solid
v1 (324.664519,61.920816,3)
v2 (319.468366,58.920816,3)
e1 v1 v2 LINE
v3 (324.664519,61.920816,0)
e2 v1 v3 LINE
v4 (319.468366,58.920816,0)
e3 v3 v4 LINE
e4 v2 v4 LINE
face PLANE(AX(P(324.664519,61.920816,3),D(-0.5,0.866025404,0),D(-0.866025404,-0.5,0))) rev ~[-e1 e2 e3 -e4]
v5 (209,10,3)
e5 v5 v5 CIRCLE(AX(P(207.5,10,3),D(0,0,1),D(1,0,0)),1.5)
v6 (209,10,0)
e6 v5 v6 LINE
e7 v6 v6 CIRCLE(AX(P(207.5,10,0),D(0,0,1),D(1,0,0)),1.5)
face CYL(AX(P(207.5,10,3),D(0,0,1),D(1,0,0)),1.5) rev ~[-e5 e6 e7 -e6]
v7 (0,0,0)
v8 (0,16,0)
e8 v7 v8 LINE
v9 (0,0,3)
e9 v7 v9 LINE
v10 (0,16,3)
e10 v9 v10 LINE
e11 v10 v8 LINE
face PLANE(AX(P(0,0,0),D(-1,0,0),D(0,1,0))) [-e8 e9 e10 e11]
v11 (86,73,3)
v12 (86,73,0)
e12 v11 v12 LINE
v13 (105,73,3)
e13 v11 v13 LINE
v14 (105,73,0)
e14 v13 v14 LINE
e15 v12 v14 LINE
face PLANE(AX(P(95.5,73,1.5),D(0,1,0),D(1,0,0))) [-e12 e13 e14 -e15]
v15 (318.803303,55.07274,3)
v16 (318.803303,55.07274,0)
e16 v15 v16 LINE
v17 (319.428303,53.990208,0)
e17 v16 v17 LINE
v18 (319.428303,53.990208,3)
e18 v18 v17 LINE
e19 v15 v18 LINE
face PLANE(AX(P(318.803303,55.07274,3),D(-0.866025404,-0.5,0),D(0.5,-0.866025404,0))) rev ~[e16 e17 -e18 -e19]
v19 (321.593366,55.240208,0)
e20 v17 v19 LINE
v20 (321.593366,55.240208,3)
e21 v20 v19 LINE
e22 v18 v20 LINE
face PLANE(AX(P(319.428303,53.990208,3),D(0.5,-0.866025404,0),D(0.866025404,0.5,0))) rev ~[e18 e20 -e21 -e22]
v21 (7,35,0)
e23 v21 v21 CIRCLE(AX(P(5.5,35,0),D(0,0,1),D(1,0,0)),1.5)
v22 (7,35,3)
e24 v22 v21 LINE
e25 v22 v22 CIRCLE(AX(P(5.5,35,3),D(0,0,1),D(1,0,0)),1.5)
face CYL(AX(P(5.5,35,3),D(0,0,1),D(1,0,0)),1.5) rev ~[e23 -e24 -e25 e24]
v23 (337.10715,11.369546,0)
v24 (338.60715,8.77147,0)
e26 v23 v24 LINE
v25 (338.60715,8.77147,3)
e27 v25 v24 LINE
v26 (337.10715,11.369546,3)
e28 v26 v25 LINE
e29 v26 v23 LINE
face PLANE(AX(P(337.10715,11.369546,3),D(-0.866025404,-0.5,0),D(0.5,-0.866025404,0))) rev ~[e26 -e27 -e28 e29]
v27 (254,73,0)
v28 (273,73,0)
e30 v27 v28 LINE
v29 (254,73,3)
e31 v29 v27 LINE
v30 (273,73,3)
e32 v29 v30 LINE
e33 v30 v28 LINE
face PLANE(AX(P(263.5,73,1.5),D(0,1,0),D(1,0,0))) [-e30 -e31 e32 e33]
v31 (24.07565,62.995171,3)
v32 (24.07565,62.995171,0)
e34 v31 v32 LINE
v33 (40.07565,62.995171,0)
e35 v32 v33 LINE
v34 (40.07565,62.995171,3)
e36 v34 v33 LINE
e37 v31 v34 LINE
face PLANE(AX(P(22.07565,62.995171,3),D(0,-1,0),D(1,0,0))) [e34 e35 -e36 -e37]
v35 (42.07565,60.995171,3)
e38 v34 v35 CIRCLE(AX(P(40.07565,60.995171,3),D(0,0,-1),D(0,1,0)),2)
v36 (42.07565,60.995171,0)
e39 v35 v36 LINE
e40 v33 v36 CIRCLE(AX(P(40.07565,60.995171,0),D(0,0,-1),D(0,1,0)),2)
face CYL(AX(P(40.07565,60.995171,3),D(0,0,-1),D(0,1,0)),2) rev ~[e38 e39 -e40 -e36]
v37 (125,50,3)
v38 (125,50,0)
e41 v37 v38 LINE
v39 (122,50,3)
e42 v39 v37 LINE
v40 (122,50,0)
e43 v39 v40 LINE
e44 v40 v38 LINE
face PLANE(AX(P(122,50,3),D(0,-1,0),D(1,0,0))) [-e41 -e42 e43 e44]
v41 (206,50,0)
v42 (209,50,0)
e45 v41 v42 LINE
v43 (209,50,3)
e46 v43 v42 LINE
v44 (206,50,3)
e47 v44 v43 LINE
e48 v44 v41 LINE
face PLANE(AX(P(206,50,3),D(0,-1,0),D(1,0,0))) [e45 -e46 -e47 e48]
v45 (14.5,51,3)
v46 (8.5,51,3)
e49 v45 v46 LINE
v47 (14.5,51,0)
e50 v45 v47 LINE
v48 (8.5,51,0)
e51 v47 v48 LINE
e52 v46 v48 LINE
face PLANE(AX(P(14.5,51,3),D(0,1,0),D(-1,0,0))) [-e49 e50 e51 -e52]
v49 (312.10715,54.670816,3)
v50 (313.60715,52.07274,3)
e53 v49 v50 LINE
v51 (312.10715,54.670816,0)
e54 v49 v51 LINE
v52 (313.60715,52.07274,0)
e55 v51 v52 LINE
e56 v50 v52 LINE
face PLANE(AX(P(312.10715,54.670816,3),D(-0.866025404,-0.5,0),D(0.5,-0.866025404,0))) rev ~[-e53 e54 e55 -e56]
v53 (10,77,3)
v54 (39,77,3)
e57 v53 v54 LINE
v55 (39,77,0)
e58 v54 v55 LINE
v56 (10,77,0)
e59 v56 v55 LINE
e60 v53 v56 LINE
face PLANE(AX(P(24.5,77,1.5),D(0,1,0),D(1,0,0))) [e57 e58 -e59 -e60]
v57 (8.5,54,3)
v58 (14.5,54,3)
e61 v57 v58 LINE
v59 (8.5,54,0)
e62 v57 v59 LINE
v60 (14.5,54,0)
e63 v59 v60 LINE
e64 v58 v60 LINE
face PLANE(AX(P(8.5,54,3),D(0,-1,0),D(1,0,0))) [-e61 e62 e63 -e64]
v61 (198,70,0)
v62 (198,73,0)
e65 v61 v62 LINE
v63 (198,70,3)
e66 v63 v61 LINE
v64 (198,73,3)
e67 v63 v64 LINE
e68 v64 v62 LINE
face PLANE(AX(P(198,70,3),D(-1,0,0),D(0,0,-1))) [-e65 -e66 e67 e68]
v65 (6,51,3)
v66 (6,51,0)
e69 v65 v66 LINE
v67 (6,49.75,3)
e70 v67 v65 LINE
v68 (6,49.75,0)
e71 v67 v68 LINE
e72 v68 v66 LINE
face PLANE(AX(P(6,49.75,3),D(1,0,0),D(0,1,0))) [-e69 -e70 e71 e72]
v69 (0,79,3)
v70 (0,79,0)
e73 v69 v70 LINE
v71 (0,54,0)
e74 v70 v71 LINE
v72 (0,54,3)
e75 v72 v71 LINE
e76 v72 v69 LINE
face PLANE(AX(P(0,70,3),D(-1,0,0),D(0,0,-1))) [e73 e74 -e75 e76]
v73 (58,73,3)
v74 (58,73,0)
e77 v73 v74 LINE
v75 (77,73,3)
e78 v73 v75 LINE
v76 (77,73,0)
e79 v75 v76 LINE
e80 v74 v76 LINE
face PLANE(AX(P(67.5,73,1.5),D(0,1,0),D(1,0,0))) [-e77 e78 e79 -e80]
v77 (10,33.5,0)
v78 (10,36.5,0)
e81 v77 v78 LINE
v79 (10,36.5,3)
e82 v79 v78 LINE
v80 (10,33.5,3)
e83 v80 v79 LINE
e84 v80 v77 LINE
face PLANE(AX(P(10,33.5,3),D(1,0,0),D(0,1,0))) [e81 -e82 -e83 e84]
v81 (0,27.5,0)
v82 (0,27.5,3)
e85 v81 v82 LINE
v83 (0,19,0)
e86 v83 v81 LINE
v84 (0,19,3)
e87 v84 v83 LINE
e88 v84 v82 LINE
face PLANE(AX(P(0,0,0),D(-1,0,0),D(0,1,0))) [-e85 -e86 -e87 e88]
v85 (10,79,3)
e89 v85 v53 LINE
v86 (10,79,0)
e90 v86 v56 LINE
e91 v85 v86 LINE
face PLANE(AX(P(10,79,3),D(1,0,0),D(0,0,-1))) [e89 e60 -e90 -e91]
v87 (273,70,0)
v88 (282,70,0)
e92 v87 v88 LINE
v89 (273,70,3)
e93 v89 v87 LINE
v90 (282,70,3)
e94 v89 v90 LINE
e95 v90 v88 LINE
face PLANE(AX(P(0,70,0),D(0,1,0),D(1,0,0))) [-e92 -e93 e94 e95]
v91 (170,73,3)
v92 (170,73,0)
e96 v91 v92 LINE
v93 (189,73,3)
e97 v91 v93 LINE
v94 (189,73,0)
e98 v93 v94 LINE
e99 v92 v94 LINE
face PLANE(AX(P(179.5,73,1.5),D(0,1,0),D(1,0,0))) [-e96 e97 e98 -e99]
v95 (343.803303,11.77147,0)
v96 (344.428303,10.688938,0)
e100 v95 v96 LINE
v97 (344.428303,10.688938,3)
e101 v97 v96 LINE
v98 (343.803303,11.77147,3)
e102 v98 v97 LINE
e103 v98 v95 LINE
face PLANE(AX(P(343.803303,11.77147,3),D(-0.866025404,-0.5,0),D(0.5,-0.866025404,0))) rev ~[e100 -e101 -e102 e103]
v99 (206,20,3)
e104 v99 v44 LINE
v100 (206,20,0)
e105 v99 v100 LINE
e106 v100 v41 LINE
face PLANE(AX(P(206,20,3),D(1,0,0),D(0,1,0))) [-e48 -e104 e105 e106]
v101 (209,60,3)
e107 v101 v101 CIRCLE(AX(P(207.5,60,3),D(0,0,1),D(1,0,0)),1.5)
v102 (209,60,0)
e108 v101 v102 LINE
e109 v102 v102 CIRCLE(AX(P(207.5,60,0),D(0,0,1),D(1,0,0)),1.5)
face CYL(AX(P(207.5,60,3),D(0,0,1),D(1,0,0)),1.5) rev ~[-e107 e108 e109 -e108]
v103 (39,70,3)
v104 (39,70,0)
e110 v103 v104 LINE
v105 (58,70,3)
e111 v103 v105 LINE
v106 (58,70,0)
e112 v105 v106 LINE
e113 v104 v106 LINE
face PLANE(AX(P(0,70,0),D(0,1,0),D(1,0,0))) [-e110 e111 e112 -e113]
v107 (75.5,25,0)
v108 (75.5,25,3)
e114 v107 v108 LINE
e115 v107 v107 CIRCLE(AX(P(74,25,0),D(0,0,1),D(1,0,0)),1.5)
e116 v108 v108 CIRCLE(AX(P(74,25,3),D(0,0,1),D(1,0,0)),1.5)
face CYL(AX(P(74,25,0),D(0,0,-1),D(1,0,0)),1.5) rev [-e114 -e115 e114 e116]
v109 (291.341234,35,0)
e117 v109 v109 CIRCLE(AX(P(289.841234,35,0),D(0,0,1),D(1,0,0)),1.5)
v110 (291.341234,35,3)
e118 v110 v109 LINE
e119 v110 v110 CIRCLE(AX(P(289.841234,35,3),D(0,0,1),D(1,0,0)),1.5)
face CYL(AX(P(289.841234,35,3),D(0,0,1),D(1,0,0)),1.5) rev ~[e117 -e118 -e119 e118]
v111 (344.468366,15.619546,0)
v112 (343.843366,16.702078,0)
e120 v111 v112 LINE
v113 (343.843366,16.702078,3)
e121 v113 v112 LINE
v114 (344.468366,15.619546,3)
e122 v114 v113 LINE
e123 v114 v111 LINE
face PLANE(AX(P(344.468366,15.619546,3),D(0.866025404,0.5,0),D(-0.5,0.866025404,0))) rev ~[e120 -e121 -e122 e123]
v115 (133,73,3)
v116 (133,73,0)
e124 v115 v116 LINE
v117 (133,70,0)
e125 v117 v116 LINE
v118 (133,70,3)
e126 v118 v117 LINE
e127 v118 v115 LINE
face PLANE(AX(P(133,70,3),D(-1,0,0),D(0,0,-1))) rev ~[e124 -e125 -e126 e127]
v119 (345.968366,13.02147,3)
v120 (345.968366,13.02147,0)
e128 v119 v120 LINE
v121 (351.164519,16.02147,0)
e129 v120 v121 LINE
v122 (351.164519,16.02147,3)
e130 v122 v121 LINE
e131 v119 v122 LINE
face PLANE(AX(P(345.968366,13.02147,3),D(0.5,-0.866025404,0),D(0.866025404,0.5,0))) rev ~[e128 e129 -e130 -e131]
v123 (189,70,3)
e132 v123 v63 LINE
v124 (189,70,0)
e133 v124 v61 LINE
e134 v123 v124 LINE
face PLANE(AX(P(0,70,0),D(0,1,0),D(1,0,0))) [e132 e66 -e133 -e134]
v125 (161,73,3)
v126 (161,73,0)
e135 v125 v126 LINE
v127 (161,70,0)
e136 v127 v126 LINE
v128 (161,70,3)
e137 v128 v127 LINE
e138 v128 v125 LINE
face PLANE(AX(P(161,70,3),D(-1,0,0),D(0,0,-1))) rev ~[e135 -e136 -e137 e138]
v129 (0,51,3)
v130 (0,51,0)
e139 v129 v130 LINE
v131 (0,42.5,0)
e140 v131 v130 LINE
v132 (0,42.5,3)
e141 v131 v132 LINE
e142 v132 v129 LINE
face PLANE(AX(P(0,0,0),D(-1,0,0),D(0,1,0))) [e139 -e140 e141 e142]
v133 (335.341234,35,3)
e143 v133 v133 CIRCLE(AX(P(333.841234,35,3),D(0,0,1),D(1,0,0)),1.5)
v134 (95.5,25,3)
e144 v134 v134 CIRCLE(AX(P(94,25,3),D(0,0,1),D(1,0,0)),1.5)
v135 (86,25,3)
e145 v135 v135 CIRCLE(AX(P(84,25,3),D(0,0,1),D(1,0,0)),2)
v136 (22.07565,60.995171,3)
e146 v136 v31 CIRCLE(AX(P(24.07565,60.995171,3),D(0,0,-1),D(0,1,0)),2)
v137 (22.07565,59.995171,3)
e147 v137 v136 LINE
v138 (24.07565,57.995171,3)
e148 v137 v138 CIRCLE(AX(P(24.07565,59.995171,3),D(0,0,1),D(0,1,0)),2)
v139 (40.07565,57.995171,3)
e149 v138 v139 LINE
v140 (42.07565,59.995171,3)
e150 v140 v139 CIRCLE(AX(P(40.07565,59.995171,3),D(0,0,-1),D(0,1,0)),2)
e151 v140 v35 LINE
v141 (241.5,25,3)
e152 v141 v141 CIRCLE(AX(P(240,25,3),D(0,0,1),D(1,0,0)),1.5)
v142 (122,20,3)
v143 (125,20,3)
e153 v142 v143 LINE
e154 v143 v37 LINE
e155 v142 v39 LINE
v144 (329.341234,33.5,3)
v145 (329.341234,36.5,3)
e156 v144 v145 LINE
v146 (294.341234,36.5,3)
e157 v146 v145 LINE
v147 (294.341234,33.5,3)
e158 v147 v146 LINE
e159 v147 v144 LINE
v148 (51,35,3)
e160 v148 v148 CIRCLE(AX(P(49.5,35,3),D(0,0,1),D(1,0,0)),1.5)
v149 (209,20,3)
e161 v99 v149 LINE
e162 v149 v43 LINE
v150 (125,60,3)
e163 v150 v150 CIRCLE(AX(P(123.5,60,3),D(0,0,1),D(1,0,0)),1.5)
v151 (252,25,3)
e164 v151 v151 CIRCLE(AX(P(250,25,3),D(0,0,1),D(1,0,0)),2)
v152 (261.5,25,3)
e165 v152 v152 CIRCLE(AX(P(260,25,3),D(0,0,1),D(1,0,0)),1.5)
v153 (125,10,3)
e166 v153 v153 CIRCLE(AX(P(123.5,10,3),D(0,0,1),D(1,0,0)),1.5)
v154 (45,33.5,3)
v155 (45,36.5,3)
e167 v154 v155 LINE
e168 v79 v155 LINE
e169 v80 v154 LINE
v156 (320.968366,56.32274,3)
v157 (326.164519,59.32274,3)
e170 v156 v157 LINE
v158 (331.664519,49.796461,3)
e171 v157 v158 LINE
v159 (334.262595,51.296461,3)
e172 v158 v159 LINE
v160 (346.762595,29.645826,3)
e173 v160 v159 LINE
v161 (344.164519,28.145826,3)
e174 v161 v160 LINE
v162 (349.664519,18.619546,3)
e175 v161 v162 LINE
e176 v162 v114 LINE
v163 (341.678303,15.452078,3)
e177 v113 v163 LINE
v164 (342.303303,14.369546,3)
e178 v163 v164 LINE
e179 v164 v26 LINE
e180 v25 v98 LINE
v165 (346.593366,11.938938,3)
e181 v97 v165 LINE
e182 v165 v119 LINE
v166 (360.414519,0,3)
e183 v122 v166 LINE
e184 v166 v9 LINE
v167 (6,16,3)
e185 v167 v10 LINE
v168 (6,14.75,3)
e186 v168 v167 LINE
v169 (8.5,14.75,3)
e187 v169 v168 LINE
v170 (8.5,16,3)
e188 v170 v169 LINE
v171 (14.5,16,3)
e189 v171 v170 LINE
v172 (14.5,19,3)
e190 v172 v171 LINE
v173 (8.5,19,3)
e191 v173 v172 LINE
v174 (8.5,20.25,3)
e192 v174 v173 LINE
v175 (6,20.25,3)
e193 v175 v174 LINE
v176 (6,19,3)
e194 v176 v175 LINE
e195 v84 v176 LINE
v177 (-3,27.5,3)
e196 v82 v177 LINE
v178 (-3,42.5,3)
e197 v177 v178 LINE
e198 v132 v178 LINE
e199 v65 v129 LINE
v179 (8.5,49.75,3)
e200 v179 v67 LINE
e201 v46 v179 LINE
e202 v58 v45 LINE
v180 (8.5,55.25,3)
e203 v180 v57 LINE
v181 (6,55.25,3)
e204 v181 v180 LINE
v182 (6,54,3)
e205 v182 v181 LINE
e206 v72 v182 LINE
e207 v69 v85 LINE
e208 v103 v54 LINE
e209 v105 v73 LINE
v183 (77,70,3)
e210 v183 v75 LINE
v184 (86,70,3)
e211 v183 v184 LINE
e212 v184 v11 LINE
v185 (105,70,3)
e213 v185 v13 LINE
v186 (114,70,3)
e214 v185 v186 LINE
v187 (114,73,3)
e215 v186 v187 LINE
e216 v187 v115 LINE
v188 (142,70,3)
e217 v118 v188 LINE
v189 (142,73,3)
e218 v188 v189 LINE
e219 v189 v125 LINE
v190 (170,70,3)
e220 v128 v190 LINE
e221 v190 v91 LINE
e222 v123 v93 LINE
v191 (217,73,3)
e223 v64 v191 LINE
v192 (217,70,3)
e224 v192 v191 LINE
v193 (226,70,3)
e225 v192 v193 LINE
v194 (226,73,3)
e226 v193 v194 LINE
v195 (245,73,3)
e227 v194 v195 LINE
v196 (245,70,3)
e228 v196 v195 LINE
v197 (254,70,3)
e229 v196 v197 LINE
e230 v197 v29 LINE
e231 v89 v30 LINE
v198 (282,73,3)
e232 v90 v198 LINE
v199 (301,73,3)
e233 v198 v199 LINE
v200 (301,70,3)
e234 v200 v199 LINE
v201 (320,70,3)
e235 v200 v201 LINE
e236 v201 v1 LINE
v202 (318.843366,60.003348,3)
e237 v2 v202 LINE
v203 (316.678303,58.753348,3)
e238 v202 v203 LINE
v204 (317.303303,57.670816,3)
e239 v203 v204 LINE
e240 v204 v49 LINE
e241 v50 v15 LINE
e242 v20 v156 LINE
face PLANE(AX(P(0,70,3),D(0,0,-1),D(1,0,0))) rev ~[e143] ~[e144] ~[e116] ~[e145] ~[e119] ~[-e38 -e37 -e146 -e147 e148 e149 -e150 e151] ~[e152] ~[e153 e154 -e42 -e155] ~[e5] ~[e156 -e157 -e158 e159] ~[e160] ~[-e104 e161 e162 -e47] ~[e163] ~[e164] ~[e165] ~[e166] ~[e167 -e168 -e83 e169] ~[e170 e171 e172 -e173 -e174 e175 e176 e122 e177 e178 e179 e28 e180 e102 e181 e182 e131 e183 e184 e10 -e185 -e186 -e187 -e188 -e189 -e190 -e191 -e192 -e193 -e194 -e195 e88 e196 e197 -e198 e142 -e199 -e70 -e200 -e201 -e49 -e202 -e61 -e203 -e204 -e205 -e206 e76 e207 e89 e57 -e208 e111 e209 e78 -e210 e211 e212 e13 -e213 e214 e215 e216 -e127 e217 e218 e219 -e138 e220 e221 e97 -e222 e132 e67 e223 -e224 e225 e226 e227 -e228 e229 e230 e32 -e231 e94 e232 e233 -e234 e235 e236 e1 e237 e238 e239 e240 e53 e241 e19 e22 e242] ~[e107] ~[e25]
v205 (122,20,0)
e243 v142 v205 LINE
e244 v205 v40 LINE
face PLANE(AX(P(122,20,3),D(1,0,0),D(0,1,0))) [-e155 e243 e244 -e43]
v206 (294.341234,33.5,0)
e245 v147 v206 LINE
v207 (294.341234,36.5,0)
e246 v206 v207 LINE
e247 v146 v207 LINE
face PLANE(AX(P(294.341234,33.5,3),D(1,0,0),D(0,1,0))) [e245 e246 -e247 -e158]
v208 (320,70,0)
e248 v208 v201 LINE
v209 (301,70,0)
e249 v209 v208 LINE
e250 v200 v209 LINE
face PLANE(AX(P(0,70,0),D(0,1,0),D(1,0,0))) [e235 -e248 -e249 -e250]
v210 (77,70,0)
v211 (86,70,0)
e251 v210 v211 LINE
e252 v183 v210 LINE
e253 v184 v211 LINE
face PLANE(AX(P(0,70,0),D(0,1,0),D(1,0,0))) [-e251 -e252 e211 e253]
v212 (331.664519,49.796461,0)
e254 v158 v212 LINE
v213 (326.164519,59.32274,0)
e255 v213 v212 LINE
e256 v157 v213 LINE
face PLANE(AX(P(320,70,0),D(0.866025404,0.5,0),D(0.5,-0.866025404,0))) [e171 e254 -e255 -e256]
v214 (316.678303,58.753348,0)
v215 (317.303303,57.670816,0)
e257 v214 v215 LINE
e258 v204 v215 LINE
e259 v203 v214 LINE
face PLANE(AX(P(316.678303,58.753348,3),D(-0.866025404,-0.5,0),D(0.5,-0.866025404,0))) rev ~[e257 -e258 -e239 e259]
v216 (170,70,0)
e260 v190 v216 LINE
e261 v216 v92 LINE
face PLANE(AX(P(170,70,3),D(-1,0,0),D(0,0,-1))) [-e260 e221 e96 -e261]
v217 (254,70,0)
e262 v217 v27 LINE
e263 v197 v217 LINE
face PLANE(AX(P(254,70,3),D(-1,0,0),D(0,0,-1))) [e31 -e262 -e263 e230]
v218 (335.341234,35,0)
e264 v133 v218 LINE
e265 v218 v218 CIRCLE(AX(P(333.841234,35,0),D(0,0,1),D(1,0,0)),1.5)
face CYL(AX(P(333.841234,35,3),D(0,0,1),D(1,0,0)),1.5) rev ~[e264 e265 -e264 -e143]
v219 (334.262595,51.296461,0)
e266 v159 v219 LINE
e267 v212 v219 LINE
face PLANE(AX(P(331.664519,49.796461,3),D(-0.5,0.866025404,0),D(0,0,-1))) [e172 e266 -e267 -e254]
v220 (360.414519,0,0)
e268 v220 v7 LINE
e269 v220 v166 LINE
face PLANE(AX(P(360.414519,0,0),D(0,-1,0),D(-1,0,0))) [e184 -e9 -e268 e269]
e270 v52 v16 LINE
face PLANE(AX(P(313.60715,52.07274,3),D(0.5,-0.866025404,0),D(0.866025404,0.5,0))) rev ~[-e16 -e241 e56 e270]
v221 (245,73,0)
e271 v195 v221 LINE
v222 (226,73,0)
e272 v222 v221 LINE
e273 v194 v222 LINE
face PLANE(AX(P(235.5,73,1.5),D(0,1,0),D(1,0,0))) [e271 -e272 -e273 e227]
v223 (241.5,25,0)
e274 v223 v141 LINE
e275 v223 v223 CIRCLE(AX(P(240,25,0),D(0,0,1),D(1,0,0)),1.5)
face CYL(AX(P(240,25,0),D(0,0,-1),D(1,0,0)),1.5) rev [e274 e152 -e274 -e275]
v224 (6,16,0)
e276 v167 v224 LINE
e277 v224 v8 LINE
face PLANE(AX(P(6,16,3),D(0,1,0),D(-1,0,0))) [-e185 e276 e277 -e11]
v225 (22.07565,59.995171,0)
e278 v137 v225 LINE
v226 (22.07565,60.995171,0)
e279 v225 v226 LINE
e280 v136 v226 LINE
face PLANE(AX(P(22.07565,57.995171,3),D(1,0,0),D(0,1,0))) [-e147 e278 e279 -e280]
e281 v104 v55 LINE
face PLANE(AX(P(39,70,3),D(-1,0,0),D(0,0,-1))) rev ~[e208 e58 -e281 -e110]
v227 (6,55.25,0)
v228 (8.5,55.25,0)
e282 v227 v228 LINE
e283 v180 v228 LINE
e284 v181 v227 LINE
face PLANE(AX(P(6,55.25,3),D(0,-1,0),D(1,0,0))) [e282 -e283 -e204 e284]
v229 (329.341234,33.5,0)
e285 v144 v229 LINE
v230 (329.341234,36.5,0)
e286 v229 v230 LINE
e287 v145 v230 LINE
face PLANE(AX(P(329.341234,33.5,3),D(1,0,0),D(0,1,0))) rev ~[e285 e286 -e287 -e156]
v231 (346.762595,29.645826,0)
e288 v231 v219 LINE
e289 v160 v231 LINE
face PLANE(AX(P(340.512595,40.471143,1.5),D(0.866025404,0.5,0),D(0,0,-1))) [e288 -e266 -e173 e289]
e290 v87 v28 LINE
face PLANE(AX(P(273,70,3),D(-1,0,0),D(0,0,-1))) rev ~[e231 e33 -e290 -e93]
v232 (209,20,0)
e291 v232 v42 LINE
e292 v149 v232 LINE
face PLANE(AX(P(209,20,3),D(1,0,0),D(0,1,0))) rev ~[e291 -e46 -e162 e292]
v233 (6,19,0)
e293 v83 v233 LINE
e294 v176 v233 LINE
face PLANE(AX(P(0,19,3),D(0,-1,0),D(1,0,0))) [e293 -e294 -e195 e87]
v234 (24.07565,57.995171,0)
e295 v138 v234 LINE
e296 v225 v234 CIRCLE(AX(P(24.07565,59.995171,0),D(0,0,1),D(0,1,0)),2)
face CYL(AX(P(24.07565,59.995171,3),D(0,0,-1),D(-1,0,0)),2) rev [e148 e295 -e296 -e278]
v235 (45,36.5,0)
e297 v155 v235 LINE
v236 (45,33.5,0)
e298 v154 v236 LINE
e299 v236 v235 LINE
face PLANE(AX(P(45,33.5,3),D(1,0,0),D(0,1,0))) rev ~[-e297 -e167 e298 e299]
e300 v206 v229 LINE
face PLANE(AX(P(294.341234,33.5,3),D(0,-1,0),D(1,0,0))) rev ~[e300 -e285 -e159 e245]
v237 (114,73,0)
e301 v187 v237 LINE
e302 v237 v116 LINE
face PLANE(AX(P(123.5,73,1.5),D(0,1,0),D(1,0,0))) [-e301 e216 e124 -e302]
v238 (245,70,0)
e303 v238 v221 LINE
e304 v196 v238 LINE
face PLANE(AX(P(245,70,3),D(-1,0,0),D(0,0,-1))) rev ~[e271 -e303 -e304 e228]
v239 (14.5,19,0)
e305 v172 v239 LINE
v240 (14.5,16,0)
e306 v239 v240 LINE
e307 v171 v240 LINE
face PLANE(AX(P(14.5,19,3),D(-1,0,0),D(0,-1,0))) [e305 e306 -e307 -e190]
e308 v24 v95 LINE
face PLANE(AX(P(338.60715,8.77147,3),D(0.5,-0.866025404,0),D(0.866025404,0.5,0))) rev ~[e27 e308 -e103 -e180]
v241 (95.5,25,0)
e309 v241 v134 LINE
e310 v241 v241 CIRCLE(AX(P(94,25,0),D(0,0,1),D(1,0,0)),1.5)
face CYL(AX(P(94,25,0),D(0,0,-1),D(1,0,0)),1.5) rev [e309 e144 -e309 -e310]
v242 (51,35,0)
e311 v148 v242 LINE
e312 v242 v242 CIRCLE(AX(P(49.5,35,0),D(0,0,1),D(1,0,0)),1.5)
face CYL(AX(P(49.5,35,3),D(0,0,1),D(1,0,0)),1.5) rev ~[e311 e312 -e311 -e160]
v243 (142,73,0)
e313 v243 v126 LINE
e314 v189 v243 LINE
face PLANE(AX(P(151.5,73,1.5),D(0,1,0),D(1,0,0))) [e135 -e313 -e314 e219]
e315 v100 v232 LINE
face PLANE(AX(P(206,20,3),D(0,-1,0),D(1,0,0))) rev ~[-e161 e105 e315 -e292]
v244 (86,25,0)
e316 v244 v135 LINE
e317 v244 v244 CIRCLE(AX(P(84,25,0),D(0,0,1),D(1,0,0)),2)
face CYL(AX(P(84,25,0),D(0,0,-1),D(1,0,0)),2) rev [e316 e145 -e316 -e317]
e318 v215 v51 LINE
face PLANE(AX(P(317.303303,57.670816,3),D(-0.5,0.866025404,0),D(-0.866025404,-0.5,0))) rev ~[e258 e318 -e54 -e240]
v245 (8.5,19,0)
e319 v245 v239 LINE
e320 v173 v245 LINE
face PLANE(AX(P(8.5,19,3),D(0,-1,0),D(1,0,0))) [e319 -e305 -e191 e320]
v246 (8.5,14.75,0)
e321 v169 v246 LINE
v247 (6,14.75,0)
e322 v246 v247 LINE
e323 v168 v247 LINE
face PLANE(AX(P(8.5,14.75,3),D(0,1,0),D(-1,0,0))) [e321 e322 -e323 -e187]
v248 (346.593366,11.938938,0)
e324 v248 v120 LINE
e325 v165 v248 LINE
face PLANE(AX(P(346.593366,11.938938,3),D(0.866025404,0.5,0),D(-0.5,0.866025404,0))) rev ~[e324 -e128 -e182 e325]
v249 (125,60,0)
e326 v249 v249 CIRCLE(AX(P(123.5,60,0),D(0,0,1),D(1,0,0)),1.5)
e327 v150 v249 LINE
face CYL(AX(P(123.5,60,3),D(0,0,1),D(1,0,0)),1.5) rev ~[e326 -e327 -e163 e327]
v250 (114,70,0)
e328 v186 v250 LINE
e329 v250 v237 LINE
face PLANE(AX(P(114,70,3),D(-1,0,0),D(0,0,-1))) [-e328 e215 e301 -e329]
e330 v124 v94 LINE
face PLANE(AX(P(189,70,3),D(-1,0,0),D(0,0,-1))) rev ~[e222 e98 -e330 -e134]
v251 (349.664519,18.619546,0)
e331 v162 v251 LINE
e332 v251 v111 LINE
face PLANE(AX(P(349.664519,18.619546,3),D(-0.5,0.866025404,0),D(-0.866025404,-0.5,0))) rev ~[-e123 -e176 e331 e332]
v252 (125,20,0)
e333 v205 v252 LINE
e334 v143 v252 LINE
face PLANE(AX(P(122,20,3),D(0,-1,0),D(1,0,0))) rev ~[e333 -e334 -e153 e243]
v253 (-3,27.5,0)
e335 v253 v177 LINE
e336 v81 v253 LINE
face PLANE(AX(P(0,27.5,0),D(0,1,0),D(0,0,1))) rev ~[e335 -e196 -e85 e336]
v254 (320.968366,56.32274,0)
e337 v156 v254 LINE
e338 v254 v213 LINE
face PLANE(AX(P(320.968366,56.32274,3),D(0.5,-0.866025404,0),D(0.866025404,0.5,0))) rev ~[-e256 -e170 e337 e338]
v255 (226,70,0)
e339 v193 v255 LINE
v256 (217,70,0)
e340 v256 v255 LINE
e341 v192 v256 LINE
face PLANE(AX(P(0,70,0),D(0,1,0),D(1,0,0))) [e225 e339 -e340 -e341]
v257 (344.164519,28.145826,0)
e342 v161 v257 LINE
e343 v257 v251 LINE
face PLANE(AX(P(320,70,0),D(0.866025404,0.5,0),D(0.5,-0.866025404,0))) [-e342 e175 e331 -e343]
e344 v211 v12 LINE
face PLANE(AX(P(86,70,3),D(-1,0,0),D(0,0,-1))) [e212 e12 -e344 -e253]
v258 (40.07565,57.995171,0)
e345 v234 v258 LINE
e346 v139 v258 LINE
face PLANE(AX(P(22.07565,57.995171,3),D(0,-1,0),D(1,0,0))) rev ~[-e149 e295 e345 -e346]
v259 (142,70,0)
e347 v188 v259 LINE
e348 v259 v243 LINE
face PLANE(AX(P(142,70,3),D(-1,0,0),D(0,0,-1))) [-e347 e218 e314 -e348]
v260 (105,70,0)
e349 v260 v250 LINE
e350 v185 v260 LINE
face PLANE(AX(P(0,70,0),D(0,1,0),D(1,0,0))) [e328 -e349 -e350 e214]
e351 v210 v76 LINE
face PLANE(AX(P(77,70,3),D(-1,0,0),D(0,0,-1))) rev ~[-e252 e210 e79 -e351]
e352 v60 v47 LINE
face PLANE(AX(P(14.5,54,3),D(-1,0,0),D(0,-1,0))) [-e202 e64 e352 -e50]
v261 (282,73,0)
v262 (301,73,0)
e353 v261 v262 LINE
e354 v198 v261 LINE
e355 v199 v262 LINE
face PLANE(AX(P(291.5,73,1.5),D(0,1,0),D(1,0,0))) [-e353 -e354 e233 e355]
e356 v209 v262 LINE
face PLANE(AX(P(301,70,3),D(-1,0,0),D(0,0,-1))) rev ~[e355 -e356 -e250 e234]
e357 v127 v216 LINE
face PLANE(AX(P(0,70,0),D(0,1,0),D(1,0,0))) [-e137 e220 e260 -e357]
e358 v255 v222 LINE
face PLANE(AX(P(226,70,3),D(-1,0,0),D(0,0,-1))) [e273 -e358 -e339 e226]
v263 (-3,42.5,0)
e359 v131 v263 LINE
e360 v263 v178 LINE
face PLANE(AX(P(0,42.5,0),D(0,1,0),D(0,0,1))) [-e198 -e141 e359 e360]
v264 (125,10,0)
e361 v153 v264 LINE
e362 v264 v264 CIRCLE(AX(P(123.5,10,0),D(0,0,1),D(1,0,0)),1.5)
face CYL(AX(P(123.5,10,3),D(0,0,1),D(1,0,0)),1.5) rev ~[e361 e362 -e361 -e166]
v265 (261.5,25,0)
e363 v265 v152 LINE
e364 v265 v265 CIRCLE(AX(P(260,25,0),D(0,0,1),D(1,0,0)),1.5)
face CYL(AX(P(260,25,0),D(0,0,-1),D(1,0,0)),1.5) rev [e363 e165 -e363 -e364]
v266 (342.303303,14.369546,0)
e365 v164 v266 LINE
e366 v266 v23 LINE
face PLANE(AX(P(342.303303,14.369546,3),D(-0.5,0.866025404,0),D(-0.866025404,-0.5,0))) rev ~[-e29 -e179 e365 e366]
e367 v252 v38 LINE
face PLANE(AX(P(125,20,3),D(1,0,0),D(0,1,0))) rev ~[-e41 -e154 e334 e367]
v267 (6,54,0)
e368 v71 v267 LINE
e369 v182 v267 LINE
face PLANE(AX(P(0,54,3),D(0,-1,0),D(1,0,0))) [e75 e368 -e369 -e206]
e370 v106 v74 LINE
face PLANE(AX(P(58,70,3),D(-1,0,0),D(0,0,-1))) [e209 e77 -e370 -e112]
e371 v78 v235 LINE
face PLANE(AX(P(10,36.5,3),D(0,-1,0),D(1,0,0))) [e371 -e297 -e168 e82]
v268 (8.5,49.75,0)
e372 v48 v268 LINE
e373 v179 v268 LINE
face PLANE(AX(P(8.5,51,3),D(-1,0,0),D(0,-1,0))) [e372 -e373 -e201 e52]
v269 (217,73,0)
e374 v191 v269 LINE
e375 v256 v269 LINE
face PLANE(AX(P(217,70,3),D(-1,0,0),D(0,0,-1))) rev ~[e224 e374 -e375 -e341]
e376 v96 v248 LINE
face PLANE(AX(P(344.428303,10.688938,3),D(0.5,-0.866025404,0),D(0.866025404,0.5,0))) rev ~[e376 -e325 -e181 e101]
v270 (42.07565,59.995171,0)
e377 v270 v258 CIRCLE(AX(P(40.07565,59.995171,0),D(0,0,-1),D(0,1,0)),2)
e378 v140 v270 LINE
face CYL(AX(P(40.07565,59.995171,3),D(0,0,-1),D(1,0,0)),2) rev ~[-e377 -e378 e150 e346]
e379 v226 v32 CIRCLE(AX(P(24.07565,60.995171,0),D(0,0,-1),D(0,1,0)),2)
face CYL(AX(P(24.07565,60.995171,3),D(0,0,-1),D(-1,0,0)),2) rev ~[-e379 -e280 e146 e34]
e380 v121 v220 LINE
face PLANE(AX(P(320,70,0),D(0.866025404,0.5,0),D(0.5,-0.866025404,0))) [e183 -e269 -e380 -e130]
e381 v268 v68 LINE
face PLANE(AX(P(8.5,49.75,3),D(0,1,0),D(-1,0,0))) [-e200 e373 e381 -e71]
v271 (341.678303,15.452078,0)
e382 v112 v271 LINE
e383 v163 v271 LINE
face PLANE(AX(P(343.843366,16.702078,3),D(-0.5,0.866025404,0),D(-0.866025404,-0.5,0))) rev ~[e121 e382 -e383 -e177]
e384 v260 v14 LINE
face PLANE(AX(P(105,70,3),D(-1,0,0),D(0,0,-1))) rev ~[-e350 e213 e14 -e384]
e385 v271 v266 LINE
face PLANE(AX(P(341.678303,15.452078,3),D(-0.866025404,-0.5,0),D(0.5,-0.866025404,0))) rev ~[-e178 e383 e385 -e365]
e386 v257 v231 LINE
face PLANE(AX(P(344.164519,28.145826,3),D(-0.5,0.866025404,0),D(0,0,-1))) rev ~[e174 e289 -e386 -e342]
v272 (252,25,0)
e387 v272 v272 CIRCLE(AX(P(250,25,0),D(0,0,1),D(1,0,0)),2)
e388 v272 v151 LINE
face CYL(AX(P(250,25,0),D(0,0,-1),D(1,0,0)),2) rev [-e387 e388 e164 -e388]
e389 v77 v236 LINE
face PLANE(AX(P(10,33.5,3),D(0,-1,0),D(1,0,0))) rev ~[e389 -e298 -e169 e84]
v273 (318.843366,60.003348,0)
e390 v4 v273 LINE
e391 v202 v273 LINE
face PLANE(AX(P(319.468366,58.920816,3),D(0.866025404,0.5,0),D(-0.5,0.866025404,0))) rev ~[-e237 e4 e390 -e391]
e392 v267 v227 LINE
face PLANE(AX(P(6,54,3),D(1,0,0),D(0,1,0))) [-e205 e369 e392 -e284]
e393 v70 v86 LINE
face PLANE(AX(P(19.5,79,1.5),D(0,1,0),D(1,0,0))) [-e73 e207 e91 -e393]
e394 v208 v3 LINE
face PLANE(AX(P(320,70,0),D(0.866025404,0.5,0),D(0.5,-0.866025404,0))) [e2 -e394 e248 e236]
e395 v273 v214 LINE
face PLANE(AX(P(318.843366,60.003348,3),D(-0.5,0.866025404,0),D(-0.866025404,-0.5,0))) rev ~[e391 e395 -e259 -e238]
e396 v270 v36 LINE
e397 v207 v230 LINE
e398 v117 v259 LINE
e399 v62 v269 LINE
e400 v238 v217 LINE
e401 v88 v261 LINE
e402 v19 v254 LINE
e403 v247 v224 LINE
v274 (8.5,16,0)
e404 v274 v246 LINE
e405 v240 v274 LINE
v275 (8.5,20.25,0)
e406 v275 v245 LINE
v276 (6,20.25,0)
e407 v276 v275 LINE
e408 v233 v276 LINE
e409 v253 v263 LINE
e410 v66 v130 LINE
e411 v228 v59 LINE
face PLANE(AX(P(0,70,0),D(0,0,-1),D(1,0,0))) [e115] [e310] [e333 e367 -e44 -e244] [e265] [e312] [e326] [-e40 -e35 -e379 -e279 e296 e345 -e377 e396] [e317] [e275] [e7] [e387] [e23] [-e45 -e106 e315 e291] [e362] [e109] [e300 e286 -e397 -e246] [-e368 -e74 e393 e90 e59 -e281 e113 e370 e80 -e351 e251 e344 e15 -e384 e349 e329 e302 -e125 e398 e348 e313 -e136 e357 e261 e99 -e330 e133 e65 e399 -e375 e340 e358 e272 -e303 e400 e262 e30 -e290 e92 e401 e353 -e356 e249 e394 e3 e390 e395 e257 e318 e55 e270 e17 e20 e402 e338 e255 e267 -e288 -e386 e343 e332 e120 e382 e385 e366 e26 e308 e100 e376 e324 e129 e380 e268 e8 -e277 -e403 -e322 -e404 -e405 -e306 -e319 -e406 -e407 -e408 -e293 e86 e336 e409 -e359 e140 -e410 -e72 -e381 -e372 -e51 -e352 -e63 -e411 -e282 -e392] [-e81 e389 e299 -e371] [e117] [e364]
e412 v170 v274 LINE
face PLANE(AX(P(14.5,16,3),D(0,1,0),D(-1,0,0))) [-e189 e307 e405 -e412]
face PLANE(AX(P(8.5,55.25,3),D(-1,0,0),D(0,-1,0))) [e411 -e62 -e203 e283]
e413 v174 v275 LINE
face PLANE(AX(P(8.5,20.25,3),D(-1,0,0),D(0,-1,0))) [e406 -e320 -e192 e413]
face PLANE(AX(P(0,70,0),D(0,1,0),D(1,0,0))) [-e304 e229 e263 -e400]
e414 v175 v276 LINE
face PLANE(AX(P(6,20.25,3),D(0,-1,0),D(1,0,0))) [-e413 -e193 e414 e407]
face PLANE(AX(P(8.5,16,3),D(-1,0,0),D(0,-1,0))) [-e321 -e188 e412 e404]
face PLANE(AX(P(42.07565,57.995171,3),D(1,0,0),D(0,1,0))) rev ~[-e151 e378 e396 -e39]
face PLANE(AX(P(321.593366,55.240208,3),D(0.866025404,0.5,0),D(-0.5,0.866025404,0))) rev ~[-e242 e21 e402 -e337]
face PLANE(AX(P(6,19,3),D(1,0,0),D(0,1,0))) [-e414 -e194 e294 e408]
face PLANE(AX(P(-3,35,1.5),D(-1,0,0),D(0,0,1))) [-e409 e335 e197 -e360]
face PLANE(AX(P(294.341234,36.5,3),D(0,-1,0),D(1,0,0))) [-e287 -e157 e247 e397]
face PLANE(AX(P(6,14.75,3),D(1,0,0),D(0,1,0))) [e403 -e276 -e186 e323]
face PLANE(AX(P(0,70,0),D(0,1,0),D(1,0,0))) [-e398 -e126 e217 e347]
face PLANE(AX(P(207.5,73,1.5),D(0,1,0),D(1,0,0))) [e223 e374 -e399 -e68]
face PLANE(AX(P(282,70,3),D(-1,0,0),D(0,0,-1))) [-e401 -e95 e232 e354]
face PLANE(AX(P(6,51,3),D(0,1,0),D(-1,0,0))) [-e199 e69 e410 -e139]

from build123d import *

# Parameters (mm, degrees)
SKETCH_1_R             = 2
SKETCH_1_R_2           = 1.5
EXTRUDE_1_DEPTH        = 3
SKETCH_2_W             = 19
SKETCH_2_H             = 3
EXTRUDE_2_DEPTH        = 3
PATTERN_LINEAR_1_COUNT = 9
PATTERN_LINEAR_1_PITCH = 28
SKETCH_3_W             = 3
SKETCH_3_H             = 30
CUT_EXTRUDE_1_DEPTH    = 3
SKETCH_4_W             = 35
SKETCH_4_H             = 3
CUT_EXTRUDE_2_DEPTH    = 3
SKETCH_5_R             = 1.5
CUT_EXTRUDE_3_DEPTH    = 3
CUT_EXTRUDE_4_DEPTH    = 3
CUT_EXTRUDE_5_DEPTH    = 3
SKETCH_8_W             = 39
SKETCH_8_H             = 3
EXTRUDE_3_DEPTH        = 9
SKETCH_9_W             = 29
SKETCH_9_H             = 3
CUT_EXTRUDE_6_DEPTH    = 2
SKETCH_11_W            = 3
SKETCH_11_H            = 25
EXTRUDE_5_DEPTH        = 3
SKETCH_12_W            = 3
SKETCH_12_H            = 15
EXTRUDE_6_DEPTH        = 3
SKETCH_13_W            = 20
SKETCH_13_H            = 5
CUT_EXTRUDE_7_DEPTH    = 3
FILLET_1_R             = 2


with BuildPart() as part:
    # Эскиз1 → Бобышка-Вытянуть1 (new body)
    with BuildSketch(Plane.XY):
        Polygon((320, 70), (360.414518843, 0), (0, 0), (0, 70), align=None)
        with Locations((84, 25)):
            Circle(SKETCH_1_R, mode=Mode.SUBTRACT)
        with Locations((250, 25)):
            Circle(SKETCH_1_R, mode=Mode.SUBTRACT)
        with Locations((94, 25)):
            Circle(SKETCH_1_R_2, mode=Mode.SUBTRACT)
        with Locations((74, 25)):
            Circle(SKETCH_1_R_2, mode=Mode.SUBTRACT)
        with Locations((240, 25)):
            Circle(SKETCH_1_R_2, mode=Mode.SUBTRACT)
        with Locations((260, 25)):
            Circle(SKETCH_1_R_2, mode=Mode.SUBTRACT)
    extrude(amount=EXTRUDE_1_DEPTH)

    # Эскиз2 → Бобышка-Вытянуть2 (add)
    with BuildSketch(Plane(origin=(0, 70, 0), x_dir=(1, 0, 0), z_dir=(0, 1, 0))):
        with Locations((291.5, -1.5)):
            Rectangle(SKETCH_2_W, SKETCH_2_H)
    extrude_2 = extrude(amount=EXTRUDE_2_DEPTH)

    # Линейный массив1: Бобышка-Вытянуть2 ×9
    with Locations(*[(-i * PATTERN_LINEAR_1_PITCH, 0, 0) for i in range(1, PATTERN_LINEAR_1_COUNT)]):
        add(extrude_2)

    # Эскиз3 → Вырез-Вытянуть1 (cut)
    with BuildSketch(Plane.XY.offset(3)):
        with Locations((207.5, 35)):
            Rectangle(SKETCH_3_W, SKETCH_3_H)
        with Locations((123.5, 35)):
            Rectangle(SKETCH_3_W, SKETCH_3_H)
    extrude(amount=-CUT_EXTRUDE_1_DEPTH, mode=Mode.SUBTRACT)

    # Эскиз4 → Вырез-Вытянуть2 (cut)
    with BuildSketch(Plane.XY.offset(3)):
        with Locations((311.841234018, 35)):
            Rectangle(SKETCH_4_W, SKETCH_4_H)
        with Locations((27.5, 35)):
            Rectangle(SKETCH_4_W, SKETCH_4_H)
    extrude(amount=-CUT_EXTRUDE_2_DEPTH, mode=Mode.SUBTRACT)

    # Эскиз5 → Вырез-Вытянуть3 (cut)
    with BuildSketch(Plane.XY.offset(3)):
        with Locations((5.5, 35)):
            Circle(SKETCH_5_R)
        with Locations((49.5, 35)):
            Circle(SKETCH_5_R)
        with Locations((123.5, 60)):
            Circle(SKETCH_5_R)
        with Locations((123.5, 10)):
            Circle(SKETCH_5_R)
        with Locations((207.5, 60)):
            Circle(SKETCH_5_R)
        with Locations((207.5, 10)):
            Circle(SKETCH_5_R)
        with Locations((289.841234018, 35)):
            Circle(SKETCH_5_R)
        with Locations((333.841234018, 35)):
            Circle(SKETCH_5_R)
    extrude(amount=-CUT_EXTRUDE_3_DEPTH, mode=Mode.SUBTRACT)

    # Эскиз6 → Вырез-Вытянуть4 (cut)
    with BuildSketch(Plane.XY.offset(3)):
        Polygon((0, 54), (6, 54), (6, 55.25), (8.5, 55.25), (8.5, 54), (14.5, 54), (14.5, 51), (8.5, 51), (8.5, 49.75), (6, 49.75), (6, 51), (0, 51), align=None)
        Polygon((0, 19), (6, 19), (6, 20.25), (8.5, 20.25), (8.5, 19), (14.5, 19), (14.5, 16), (8.5, 16), (8.5, 14.75), (6, 14.75), (6, 16), (0, 16), align=None)
    extrude(amount=-CUT_EXTRUDE_4_DEPTH, mode=Mode.SUBTRACT)

    # Эскиз7 → Вырез-Вытянуть5 (cut)
    with BuildSketch(Plane.XY.offset(3)):
        Polygon((324.664518843, 61.920816371), (319.468366421, 58.920816371), (318.843366421, 60.003348125), (316.678302911, 58.753348125), (317.303302911, 57.670816371), (312.107150488, 54.670816371), (313.607150488, 52.072740159), (318.803302911, 55.072740159), (319.428302911, 53.990208405), (321.593366421, 55.240208405), (320.968366421, 56.322740159), (326.164518843, 59.322740159), align=None)
        Polygon((349.664518843, 18.619546181), (344.468366421, 15.619546181), (343.843366421, 16.702077936), (341.678302911, 15.452077936), (342.303302911, 14.369546181), (337.107150488, 11.369546181), (338.607150488, 8.77146997), (343.803302911, 11.77146997), (344.428302911, 10.688938215), (346.593366421, 11.938938215), (345.968366421, 13.02146997), (351.164518843, 16.02146997), align=None)
    extrude(amount=-CUT_EXTRUDE_5_DEPTH, mode=Mode.SUBTRACT)

    # Эскиз8 → Бобышка-Вытянуть3 (add)
    with BuildSketch(Plane(origin=(0, 70, 0), x_dir=(1, 0, 0), z_dir=(0, 1, 0))):
        with Locations((19.5, -1.5)):
            Rectangle(SKETCH_8_W, SKETCH_8_H)
    extrude(amount=EXTRUDE_3_DEPTH)

    # Эскиз9 → Вырез-Вытянуть6 (cut)
    with BuildSketch(Plane(origin=(0, 79, 0), x_dir=(1, 0, 0), z_dir=(0, 1, 0))):
        with Locations((24.5, -1.5)):
            Rectangle(SKETCH_9_W, SKETCH_9_H)
    extrude(amount=-CUT_EXTRUDE_6_DEPTH, mode=Mode.SUBTRACT)

    # Эскиз11 → Бобышка-Вытянуть5 (add)
    with BuildSketch(Plane(origin=(270.310889132, 156.064064606, 0), x_dir=(0, 0, -1), z_dir=(0.8660254037844416, 0.4999999999999949, 0))):
        with Locations((-1.5, -135.207259422)):
            Rectangle(SKETCH_11_W, SKETCH_11_H)
    extrude(amount=EXTRUDE_5_DEPTH)

    # Эскиз12 → Бобышка-Вытянуть6 (add)
    with BuildSketch(Plane.ZY):
        with Locations((1.5, 35)):
            Rectangle(SKETCH_12_W, SKETCH_12_H)
    extrude(amount=EXTRUDE_6_DEPTH)

    # Эскиз13 → Вырез-Вытянуть7 (cut)
    with BuildSketch(Plane.XY.offset(3)):
        with Locations((32.07564967, 60.49517076)):
            Rectangle(SKETCH_13_W, SKETCH_13_H)
    extrude(amount=-CUT_EXTRUDE_7_DEPTH, mode=Mode.SUBTRACT)

    # Скругление1
    fillet_1_edges = [part.edges().sort_by_distance(p)[0] for p in [
        (22.07564967, 57.99517076, 1.5),
        (22.07564967, 62.99517076, 1.5),
        (42.07564967, 62.99517076, 1.5),
        (42.07564967, 57.99517076, 1.5),
    ]]
    fillet(fillet_1_edges, radius=FILLET_1_R)


solid = part.part
